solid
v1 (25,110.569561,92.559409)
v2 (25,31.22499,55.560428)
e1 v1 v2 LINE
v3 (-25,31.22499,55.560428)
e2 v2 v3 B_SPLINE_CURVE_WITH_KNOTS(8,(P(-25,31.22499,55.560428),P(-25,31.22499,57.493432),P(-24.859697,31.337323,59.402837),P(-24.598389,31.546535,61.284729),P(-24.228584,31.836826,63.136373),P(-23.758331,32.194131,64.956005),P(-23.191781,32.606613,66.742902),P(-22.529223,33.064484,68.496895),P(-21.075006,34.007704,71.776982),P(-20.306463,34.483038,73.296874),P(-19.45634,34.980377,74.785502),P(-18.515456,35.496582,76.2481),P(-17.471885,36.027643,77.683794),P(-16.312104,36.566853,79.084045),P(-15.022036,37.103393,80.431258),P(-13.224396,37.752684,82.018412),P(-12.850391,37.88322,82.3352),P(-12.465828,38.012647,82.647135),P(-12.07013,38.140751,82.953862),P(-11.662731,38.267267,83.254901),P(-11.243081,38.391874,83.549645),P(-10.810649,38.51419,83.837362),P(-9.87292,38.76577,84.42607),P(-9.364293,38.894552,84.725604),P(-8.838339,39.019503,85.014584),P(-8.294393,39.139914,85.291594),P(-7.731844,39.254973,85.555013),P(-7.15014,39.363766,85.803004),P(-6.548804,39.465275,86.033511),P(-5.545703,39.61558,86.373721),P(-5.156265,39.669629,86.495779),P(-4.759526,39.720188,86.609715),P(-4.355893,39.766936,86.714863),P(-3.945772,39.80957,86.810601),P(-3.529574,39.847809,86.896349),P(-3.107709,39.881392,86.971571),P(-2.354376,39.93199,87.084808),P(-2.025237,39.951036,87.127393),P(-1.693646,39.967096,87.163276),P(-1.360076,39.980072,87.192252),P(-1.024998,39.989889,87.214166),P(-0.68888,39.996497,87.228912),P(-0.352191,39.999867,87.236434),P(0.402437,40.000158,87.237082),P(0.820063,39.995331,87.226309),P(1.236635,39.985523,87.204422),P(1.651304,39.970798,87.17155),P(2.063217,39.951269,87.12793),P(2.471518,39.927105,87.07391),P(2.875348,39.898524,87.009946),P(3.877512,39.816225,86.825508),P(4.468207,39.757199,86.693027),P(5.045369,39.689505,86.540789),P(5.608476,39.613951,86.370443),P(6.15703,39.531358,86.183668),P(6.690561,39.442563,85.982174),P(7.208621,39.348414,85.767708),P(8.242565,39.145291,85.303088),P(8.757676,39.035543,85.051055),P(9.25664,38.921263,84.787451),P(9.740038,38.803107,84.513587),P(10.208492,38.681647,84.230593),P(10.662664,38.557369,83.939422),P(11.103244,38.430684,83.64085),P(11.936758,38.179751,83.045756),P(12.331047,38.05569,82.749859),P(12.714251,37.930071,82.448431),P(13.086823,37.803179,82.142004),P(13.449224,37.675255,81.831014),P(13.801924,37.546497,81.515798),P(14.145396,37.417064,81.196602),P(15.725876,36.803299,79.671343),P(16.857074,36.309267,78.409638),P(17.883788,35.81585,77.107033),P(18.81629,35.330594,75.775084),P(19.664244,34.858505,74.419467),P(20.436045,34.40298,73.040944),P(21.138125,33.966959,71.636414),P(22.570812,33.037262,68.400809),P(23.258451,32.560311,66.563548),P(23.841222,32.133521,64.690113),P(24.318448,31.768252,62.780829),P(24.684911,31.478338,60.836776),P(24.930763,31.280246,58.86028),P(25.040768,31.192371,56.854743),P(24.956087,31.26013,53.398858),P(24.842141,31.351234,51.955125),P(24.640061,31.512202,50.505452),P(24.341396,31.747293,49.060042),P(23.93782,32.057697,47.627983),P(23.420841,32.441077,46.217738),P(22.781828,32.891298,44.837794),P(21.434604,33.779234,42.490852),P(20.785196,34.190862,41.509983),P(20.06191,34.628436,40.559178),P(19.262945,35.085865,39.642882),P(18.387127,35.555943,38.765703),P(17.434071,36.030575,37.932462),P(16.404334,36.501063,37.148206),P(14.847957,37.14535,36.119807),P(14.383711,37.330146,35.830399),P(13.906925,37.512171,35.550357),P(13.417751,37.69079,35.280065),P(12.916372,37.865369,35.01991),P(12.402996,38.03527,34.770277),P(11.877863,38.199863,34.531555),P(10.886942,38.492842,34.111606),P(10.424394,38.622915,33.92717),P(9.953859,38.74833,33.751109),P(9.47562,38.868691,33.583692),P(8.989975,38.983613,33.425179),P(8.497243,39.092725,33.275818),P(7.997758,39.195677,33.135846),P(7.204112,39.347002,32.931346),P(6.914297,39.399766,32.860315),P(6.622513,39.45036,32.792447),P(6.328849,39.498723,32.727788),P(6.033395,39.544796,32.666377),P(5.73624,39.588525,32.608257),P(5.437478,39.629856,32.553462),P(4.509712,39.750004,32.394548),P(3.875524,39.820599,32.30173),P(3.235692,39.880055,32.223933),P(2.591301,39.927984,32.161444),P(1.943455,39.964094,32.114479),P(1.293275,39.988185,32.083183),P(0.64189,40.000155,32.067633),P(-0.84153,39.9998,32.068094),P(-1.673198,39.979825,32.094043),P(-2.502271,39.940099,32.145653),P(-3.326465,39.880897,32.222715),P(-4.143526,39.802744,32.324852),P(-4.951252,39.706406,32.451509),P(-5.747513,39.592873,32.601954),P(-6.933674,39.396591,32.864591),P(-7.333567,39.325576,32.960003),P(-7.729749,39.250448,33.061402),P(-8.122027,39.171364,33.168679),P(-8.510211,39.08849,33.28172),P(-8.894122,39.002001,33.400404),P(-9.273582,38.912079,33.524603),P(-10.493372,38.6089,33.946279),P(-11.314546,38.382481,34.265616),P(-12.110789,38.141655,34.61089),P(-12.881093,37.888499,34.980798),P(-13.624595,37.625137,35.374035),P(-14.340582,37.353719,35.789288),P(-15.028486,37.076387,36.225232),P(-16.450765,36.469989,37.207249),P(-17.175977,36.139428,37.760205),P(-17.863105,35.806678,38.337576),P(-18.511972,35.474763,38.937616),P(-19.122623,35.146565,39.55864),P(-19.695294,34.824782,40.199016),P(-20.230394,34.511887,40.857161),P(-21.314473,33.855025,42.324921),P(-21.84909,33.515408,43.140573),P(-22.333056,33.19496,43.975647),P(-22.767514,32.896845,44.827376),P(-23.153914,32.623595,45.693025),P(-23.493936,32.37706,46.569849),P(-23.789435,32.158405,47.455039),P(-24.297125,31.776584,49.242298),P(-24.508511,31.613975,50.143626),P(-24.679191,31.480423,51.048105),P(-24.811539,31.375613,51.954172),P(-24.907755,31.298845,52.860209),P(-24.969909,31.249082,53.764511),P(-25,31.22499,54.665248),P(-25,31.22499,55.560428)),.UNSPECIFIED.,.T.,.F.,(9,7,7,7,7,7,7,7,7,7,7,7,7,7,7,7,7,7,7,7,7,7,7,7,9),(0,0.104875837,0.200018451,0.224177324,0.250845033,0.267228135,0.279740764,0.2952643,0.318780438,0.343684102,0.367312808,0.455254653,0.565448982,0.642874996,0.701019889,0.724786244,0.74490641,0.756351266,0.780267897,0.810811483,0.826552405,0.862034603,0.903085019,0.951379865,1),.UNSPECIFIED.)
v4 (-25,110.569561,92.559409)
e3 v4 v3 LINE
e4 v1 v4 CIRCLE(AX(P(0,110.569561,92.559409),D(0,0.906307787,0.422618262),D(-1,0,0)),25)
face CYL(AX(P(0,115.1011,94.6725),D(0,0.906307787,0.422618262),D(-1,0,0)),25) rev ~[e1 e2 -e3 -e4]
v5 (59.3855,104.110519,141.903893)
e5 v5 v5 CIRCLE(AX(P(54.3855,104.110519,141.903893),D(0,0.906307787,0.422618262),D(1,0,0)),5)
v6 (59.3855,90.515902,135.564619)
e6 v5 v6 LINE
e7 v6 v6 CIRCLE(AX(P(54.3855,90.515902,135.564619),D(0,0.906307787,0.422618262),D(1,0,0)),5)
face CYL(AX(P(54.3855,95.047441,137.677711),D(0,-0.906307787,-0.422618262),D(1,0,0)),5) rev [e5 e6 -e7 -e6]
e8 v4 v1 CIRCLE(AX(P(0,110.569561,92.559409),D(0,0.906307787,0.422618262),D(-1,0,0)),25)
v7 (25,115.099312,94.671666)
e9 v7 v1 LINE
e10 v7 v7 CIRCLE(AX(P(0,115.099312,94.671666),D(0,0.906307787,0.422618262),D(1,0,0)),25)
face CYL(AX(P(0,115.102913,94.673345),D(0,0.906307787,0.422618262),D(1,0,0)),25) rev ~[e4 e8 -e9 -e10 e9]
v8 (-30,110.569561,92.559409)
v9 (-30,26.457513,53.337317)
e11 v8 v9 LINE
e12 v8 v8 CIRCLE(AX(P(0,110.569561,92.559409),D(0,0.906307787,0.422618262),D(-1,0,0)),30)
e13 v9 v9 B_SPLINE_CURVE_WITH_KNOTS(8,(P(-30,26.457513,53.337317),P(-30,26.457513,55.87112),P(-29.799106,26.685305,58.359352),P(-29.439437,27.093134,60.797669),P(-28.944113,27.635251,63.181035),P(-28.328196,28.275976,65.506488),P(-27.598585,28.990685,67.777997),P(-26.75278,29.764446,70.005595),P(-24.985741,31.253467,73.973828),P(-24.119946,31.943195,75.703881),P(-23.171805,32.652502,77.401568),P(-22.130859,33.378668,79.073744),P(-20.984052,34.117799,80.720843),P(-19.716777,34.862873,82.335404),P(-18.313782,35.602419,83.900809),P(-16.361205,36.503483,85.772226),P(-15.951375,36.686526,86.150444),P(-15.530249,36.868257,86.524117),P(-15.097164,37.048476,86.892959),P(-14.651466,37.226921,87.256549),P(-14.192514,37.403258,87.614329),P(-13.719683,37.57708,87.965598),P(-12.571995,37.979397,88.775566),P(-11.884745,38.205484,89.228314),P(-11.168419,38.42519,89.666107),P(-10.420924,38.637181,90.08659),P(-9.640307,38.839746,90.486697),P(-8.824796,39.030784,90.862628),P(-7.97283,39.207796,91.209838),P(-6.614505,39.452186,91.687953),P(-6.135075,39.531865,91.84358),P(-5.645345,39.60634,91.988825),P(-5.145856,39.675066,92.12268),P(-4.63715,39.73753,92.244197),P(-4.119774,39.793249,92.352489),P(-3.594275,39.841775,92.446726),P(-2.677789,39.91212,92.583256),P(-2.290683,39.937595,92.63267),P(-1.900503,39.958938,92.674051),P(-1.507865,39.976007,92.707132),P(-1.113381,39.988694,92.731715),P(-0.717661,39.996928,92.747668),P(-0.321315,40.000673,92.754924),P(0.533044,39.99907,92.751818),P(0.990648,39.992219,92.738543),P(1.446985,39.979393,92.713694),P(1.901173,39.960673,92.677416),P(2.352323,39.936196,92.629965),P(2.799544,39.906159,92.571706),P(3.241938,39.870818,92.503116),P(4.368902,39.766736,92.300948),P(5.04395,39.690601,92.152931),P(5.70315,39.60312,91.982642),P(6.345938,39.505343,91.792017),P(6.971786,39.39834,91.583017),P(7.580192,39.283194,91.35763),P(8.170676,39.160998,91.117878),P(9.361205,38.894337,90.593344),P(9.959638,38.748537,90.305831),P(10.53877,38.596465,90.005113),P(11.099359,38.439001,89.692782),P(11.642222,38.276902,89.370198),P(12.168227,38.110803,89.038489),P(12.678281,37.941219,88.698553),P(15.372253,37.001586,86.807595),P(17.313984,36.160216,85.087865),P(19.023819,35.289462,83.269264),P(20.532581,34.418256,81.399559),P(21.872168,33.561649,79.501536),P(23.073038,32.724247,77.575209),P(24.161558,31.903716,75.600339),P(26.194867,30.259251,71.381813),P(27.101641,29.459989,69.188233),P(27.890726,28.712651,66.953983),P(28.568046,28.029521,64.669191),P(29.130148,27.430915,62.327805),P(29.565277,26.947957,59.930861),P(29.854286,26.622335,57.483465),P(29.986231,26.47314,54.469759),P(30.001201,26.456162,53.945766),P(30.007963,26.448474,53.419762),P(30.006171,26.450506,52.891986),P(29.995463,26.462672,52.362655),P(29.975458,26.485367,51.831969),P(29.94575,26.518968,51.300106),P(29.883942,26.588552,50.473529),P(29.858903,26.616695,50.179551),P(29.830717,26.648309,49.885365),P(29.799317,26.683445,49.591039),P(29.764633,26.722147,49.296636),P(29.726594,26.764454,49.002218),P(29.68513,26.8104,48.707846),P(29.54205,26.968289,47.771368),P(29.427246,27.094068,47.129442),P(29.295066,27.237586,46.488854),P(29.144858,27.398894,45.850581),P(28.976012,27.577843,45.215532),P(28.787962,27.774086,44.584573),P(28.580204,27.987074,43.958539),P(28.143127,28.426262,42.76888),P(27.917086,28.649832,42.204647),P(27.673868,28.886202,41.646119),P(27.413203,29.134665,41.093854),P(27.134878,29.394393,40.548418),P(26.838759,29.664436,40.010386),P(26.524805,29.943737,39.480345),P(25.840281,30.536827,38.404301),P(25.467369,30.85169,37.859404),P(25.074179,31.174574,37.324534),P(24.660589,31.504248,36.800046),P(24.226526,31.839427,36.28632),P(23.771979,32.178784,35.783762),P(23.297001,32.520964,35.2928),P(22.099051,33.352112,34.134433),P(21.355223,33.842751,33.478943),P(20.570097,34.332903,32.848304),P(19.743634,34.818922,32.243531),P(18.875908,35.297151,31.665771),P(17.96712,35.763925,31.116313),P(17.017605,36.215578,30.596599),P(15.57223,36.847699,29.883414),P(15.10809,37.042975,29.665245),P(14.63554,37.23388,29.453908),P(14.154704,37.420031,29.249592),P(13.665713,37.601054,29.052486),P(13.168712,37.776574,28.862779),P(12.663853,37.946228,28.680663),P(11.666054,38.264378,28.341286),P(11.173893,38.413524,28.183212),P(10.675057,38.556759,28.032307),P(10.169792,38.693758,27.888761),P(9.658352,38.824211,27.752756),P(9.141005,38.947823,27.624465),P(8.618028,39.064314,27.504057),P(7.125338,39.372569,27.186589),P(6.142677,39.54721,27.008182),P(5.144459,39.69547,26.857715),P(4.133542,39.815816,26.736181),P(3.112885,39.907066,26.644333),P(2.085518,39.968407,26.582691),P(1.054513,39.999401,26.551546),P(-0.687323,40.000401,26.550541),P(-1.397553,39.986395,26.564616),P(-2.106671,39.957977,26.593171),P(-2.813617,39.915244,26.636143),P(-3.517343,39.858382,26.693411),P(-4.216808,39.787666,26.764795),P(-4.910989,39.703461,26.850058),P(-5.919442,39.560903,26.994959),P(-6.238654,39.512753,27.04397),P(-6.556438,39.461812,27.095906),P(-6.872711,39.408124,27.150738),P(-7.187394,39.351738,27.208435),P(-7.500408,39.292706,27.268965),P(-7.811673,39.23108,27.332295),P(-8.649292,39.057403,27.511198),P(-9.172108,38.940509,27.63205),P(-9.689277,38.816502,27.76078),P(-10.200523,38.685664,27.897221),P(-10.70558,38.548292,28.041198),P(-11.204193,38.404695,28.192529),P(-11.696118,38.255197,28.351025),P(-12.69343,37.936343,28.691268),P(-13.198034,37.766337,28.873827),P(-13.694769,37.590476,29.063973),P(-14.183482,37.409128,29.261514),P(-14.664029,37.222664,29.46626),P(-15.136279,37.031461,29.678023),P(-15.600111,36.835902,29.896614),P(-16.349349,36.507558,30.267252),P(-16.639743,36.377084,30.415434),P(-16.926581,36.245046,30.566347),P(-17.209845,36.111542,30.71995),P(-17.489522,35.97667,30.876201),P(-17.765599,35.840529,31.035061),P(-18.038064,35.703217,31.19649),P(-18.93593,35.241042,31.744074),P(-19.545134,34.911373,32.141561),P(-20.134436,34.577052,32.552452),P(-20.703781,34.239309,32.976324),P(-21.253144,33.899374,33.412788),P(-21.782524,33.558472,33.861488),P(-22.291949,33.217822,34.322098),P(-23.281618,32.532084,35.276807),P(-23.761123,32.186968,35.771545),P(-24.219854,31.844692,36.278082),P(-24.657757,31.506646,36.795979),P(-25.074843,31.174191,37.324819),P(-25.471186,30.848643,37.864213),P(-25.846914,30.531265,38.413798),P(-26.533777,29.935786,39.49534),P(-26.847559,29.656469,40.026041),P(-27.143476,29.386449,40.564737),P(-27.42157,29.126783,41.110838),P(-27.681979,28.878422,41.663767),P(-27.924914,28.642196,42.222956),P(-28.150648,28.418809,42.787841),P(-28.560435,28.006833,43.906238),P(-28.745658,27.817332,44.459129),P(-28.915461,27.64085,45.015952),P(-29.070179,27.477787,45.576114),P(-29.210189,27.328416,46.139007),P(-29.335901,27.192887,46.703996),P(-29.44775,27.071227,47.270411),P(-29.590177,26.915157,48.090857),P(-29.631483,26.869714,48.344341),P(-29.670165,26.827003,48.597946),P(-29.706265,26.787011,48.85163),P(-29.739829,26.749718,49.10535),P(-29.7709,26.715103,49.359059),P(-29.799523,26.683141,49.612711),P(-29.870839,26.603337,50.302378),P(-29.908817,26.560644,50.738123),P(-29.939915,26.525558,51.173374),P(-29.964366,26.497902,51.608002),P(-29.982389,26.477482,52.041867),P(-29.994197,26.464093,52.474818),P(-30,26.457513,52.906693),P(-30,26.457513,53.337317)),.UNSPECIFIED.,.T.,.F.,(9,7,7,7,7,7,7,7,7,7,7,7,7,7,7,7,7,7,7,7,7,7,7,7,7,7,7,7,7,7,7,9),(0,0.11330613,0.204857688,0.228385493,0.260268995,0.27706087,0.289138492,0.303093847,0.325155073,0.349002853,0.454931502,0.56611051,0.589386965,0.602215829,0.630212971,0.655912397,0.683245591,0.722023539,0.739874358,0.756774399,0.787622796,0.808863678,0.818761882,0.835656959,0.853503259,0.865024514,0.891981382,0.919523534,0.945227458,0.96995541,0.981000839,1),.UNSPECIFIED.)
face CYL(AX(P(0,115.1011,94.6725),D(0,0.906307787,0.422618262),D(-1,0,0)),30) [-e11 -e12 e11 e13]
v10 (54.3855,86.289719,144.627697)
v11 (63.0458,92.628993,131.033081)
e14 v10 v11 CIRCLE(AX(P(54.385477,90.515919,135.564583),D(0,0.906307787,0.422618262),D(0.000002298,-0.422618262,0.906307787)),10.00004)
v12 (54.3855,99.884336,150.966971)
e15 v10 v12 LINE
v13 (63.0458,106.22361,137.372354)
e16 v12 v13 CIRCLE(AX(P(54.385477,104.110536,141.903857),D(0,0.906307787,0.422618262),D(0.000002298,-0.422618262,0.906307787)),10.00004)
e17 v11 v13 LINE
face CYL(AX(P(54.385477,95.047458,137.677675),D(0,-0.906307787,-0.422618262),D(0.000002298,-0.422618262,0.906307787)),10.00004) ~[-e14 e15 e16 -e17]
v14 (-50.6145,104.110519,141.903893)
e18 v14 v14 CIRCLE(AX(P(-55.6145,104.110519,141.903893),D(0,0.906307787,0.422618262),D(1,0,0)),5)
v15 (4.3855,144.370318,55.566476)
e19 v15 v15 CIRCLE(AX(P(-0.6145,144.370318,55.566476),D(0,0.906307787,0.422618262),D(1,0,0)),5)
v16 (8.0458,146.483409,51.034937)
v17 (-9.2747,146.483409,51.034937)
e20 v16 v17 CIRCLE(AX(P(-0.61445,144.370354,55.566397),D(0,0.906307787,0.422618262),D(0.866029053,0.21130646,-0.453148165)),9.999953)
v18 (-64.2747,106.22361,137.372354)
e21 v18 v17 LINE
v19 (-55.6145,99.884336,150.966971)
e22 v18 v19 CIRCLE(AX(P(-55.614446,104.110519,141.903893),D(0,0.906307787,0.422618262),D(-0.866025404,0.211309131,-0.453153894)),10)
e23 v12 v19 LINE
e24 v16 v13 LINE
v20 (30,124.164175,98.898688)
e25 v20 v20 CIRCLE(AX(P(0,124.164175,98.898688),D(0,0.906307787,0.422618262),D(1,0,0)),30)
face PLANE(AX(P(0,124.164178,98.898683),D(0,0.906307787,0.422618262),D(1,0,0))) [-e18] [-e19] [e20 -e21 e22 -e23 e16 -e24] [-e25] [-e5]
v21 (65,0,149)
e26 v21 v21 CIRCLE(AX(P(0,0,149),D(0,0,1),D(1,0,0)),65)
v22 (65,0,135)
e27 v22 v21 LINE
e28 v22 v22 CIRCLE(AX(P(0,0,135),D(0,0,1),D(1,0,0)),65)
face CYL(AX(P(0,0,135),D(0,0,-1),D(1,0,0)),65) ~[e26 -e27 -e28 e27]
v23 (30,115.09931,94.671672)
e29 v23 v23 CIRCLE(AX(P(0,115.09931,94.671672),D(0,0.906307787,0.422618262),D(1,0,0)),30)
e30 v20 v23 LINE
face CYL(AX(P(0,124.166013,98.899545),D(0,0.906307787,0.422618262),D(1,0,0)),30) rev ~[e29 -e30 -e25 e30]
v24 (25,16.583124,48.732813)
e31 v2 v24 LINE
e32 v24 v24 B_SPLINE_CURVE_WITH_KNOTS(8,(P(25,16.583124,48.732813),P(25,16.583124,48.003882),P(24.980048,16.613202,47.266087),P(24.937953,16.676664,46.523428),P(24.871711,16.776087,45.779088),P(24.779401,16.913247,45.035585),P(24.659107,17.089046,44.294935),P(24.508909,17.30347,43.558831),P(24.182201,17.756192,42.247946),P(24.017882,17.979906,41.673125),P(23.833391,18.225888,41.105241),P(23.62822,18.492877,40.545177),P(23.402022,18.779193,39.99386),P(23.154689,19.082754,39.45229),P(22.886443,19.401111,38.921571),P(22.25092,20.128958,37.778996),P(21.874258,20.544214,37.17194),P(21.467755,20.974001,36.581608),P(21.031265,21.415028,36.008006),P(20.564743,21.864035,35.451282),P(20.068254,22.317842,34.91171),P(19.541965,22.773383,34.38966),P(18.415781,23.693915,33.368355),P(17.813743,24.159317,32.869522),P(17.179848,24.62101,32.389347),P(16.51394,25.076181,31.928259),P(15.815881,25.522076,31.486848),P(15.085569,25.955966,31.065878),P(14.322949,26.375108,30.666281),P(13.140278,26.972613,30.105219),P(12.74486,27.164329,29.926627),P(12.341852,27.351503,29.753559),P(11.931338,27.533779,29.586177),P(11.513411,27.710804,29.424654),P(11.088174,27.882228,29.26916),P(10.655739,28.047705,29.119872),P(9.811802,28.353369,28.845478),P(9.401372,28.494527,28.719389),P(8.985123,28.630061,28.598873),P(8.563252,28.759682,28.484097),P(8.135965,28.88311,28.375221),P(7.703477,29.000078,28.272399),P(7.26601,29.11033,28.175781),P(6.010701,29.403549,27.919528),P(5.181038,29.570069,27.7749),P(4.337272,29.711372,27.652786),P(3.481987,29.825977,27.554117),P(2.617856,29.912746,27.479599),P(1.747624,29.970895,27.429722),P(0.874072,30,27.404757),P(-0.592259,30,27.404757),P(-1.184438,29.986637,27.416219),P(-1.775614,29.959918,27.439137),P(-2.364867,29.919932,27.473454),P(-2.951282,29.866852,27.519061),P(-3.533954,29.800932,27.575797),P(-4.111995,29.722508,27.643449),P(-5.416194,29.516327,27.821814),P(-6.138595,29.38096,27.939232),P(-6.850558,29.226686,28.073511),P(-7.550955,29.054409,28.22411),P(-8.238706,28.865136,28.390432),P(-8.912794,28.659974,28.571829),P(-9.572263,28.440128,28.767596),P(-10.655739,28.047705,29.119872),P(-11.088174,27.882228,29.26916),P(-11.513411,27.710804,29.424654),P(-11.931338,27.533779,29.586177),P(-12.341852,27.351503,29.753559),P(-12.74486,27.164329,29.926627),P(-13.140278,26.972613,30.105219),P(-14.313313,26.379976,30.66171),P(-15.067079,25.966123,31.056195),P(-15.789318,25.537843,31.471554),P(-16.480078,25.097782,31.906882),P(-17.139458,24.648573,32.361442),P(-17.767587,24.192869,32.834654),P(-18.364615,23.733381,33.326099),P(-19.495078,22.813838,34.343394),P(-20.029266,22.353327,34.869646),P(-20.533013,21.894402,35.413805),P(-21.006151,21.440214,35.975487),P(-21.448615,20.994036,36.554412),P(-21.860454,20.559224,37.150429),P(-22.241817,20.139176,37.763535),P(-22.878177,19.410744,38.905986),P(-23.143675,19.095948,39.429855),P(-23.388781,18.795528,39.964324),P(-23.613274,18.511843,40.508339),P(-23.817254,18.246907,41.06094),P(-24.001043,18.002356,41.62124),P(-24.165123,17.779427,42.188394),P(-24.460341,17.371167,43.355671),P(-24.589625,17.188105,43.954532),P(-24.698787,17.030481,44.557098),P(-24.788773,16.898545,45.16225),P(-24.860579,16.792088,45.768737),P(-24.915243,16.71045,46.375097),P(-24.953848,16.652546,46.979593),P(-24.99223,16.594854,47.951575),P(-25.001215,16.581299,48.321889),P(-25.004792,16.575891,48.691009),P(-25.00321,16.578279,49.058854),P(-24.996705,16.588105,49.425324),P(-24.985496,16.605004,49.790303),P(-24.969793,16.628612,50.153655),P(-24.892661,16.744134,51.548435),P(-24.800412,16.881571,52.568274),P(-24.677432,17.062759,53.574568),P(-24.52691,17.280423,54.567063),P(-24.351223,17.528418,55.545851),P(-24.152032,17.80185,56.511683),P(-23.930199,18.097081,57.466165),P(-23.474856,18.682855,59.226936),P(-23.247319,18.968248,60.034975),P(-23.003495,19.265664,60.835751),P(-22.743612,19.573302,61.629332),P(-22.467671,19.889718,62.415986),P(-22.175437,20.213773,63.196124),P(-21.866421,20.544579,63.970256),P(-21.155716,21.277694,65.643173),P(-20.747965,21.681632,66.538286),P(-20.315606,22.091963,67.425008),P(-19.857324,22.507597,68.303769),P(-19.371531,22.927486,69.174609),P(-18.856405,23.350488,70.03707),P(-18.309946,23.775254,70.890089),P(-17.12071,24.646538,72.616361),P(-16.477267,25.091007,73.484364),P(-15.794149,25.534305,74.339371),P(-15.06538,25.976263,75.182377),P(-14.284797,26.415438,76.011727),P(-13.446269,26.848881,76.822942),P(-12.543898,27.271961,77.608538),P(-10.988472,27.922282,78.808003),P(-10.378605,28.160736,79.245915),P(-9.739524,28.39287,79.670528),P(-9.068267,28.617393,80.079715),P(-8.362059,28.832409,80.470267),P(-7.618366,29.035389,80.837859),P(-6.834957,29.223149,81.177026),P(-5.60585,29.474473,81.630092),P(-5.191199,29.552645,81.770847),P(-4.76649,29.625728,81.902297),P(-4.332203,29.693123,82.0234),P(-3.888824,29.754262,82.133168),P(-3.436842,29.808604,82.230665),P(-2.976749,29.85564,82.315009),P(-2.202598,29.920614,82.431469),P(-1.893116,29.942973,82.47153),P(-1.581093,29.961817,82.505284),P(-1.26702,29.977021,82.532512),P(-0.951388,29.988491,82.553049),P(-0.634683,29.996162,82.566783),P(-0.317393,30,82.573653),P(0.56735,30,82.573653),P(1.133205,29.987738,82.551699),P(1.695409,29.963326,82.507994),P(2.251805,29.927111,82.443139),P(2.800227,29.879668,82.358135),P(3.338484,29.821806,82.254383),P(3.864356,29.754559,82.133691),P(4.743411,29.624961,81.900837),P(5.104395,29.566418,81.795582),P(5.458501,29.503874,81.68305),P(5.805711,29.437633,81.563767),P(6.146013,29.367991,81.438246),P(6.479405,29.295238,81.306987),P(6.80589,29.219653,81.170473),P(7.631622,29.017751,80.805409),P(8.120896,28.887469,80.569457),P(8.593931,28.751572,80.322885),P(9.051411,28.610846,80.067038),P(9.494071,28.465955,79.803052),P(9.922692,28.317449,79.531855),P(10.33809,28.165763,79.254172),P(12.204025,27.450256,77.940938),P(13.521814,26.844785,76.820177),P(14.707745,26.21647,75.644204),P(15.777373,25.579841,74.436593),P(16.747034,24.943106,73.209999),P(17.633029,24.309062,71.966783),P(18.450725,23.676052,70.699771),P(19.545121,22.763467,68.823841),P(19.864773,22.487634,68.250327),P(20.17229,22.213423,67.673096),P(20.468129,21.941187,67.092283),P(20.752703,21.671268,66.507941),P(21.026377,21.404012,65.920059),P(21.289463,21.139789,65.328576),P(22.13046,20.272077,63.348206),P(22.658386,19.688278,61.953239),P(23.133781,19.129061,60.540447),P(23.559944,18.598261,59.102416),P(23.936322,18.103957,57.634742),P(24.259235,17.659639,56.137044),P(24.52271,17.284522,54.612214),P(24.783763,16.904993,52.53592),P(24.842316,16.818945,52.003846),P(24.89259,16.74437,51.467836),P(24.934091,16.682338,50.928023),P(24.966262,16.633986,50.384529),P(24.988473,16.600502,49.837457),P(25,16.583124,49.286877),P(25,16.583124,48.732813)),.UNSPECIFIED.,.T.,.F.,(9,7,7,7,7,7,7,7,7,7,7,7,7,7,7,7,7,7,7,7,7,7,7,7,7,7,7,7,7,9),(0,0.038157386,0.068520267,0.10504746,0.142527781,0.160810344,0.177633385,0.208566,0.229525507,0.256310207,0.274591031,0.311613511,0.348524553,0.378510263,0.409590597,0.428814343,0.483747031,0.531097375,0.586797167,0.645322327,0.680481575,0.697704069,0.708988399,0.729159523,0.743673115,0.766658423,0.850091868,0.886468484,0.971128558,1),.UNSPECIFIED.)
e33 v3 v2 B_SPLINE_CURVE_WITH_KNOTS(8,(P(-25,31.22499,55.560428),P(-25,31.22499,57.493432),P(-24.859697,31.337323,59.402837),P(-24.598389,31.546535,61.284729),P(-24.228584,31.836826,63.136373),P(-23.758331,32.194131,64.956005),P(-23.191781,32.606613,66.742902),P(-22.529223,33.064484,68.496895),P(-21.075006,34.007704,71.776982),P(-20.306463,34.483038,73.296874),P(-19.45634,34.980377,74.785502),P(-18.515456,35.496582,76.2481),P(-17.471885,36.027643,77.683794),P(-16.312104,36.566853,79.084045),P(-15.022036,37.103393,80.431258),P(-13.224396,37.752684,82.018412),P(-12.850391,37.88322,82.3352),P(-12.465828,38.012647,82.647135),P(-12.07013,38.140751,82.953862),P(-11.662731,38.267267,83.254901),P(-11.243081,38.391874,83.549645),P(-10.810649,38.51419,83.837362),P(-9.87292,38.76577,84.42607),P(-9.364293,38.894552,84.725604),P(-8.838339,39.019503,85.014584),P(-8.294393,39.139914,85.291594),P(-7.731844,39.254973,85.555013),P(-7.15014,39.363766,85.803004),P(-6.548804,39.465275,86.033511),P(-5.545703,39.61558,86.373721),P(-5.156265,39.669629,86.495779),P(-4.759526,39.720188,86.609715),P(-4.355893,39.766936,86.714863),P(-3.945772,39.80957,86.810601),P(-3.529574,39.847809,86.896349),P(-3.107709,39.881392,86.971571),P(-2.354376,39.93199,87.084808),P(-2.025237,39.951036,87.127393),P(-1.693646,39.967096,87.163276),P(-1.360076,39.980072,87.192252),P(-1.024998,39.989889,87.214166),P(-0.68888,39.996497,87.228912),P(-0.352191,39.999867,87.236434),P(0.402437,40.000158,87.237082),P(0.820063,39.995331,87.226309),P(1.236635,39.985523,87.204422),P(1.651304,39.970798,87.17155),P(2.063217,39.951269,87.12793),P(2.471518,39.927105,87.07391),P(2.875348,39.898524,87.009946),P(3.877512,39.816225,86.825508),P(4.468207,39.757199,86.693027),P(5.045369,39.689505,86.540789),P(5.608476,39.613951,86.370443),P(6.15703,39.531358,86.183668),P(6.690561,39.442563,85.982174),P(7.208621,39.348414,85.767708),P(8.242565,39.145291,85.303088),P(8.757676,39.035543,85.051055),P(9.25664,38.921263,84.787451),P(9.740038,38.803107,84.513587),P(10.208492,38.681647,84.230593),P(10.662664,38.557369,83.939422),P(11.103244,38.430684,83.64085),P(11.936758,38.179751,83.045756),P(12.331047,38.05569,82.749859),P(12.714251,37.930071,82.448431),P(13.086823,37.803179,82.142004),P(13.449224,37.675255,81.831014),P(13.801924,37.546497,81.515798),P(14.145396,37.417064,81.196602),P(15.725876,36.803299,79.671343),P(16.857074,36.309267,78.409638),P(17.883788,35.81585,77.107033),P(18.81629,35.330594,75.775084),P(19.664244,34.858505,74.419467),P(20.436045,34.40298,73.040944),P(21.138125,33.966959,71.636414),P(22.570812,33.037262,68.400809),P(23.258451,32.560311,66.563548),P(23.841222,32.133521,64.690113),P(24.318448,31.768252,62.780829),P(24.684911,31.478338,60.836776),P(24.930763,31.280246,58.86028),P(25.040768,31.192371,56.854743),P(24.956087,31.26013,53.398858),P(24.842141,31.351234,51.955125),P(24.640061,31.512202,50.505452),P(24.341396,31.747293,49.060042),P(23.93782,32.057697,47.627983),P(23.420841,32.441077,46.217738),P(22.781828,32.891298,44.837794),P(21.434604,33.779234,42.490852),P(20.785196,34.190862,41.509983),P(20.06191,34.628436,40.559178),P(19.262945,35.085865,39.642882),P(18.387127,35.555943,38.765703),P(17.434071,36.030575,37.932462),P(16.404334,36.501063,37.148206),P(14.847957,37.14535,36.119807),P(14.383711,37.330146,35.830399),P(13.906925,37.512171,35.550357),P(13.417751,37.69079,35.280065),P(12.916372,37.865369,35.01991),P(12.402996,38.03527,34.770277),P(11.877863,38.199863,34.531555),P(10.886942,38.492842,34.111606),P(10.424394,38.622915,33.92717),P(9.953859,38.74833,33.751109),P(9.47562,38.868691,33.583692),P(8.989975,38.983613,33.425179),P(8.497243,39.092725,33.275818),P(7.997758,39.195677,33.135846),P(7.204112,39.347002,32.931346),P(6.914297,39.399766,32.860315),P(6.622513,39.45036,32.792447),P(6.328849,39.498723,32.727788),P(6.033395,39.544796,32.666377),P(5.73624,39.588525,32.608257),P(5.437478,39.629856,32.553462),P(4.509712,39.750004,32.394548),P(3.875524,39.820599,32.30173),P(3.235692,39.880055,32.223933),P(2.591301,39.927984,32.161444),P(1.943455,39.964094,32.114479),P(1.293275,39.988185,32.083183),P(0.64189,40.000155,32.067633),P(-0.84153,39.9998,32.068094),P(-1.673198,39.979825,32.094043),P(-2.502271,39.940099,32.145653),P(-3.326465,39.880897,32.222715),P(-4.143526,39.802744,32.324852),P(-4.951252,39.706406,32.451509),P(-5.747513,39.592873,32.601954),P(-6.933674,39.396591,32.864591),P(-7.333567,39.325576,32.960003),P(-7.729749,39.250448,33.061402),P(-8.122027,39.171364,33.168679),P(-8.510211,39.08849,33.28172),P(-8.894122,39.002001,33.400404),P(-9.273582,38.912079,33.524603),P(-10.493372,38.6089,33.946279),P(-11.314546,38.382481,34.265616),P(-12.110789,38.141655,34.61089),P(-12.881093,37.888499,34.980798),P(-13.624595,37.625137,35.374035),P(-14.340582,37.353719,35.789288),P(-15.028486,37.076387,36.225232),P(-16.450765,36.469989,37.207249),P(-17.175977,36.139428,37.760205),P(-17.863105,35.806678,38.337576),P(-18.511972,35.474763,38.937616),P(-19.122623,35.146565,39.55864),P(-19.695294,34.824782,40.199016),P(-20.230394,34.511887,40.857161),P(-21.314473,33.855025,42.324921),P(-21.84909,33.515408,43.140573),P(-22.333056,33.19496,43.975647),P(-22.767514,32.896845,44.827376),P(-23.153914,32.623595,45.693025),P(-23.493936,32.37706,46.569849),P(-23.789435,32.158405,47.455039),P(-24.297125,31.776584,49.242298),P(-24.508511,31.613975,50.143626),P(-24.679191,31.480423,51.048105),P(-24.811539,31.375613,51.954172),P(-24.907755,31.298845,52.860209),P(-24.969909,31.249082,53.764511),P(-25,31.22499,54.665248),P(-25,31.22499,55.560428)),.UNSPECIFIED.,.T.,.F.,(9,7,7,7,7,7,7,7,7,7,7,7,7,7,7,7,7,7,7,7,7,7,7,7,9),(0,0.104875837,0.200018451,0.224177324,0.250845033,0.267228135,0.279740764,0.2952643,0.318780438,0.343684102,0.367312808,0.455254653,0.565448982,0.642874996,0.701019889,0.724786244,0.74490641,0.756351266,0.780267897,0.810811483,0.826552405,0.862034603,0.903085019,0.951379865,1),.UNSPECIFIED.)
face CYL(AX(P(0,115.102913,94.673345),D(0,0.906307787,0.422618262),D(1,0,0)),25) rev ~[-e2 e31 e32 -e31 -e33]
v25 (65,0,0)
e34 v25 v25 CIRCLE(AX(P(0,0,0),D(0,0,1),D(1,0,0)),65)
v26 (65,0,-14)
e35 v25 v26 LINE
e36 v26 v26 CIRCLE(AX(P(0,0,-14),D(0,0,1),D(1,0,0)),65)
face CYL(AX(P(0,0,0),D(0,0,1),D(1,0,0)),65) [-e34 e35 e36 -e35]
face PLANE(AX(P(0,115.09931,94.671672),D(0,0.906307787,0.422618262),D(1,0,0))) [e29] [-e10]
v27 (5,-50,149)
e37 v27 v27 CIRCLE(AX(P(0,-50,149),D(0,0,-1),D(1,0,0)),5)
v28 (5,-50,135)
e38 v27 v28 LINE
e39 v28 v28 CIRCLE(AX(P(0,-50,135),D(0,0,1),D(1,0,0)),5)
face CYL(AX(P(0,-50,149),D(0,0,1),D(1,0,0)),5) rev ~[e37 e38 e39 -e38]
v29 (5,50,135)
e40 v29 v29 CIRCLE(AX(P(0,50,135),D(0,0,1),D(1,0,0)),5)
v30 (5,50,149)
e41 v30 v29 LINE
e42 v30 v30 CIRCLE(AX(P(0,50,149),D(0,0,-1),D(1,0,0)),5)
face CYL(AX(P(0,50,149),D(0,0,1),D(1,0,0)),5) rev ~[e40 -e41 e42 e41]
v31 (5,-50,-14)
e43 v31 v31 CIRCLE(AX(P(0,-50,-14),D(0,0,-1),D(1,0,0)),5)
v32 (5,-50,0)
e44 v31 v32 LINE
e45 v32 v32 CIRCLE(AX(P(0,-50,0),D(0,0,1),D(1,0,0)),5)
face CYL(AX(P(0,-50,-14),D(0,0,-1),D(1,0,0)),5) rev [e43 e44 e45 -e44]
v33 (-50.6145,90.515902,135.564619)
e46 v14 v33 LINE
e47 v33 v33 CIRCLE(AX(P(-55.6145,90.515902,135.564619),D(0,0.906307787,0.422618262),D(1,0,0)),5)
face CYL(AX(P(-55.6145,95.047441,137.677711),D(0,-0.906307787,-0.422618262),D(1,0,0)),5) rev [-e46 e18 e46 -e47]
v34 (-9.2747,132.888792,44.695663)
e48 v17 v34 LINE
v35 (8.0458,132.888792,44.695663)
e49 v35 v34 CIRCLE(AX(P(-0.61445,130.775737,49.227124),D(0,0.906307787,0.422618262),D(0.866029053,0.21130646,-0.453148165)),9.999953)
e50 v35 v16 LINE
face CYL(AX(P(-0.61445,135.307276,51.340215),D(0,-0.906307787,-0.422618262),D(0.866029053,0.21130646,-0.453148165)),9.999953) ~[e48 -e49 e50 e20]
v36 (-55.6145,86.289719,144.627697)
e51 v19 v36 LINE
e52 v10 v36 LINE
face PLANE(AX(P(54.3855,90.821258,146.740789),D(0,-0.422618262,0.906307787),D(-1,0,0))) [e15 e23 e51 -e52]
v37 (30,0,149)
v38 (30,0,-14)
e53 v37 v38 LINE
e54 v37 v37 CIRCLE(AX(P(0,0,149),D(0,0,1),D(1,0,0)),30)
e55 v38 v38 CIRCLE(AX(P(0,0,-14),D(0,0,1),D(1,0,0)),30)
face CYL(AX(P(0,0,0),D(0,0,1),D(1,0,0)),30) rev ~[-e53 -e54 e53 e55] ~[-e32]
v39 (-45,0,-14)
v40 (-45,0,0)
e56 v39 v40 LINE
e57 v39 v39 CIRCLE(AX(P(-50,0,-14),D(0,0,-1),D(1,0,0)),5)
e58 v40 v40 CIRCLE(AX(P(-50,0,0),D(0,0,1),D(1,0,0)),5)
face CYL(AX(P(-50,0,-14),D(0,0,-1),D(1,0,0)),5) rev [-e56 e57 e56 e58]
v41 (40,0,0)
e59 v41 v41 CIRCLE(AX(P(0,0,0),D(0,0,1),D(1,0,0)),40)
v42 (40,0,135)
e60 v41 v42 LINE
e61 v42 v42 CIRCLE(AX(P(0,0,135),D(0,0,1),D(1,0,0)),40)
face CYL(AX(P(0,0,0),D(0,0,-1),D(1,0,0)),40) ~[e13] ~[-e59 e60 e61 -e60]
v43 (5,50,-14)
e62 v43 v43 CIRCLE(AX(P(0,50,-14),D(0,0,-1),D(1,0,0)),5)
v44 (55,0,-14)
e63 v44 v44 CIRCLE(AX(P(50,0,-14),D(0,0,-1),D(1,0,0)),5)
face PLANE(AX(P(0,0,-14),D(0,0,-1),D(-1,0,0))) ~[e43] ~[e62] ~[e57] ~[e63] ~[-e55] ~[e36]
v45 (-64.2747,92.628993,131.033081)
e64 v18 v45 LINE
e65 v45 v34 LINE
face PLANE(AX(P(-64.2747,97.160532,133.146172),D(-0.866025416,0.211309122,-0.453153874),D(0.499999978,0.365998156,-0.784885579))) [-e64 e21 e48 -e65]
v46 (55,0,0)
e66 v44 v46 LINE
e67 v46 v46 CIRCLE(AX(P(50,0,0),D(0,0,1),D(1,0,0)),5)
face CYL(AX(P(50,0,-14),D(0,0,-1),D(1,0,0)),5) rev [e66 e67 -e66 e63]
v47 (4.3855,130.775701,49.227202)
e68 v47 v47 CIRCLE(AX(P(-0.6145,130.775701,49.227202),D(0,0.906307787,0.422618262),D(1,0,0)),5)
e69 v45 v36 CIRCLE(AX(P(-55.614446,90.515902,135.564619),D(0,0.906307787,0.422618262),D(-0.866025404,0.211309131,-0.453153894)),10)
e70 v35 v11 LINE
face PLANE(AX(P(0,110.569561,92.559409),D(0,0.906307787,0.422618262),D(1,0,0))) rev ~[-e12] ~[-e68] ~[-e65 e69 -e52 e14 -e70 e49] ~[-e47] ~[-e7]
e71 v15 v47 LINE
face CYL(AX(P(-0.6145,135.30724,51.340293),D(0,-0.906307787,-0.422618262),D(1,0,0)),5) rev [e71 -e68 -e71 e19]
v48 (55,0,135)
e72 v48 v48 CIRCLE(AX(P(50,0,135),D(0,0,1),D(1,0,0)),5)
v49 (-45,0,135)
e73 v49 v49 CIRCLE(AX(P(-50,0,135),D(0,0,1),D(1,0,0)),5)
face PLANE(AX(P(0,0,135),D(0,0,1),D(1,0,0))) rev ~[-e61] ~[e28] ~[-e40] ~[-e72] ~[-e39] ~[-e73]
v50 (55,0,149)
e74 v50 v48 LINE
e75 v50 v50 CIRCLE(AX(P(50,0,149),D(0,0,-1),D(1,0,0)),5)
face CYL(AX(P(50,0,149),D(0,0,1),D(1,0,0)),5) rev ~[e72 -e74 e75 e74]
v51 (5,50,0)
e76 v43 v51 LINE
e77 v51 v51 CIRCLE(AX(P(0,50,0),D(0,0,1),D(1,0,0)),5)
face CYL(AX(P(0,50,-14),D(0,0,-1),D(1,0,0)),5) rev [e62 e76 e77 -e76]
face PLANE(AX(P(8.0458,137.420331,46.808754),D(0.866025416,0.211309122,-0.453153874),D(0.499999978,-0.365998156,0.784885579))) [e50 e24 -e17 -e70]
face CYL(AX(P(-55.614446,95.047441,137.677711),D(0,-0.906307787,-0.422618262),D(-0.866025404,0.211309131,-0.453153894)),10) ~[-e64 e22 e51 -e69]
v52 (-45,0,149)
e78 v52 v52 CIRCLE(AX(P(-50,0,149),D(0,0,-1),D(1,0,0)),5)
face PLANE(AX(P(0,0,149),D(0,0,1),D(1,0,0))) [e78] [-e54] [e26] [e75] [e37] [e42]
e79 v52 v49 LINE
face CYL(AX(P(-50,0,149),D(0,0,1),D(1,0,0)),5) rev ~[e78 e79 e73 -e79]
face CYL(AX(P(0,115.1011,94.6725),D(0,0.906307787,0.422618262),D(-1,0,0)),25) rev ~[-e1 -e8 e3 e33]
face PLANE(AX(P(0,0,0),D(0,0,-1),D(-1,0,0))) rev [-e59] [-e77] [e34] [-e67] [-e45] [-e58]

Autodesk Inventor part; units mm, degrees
ref_plane "YZ Plane" through (0, 0, 0) normal (1, 0, 0) x (0, 1, 0)
sketch "Sketch1" plane through (0, 0, 0) normal (0, 0, 1) x (1, 0, 0)
  circle A0 centre (0, 0) radius 40
  circle A1 centre (0, 0) radius 30
  dimension "d0" = 80
  dimension "d1" = 60
extrude "Extrusion1" add sketch "Sketch1" along normal blind 135
sketch "Sketch2" plane through (0, 0, 135) normal (0, 0, 1) x (1, 0, 0)
  circle A0 centre (0, 0) radius 65
  circle A1 centre (0, 0) radius 30
  dimension "d4" = 130
extrude "Extrusion2" add sketch "Sketch2" along normal blind 14
sketch "Sketch3" plane through (0, 0, 0) normal (0, 0, -1) x (-1, 0, 0)
  point P0 (0, 0)
sketch "Sketch4" plane through (0, 0, 149) normal (0, 0, 1) x (1, 0, 0)
  circle A0 centre (0, 0) radius 50
  circle A1 centre (-50, 0) radius 5
  circle A2 centre (0, -50) radius 5
  circle A3 centre (50, 0) radius 5
  circle A4 centre (0, 50) radius 5
  dimension "d7" = 100
  dimension "d8" = 10
  dimension "d11" = 360
extrude "Extrusion3" cut sketch "Sketch4" against normal blind 14 contours A0 A3 | A0 A3 | A4 A0 | A0 A4 | A2 A0 | A0 A2 | A1 A0 | A0 A1
ref_plane "Work Plane1" through (0, 0, 67.5) normal (0, 0, 1) x (1, 0, 0)
mirror "Mirror1" about plane through (0, 0, 67.5) normal (0, 0, 1) of "Extrusion2", "Extrusion3"
ref_plane "Work Plane2" through (0, 0, 94) normal (0, 0, 1) x (1, 0, 0)
sketch "Sketch5" plane through (0, 0, 94) normal (0, 0, 1) x (1, 0, 0)
  circle A0 centre (0, 0) radius 30 projected
  line L0 (-30, 0) -> (30, 0)
ref_plane "Work Plane3" through (-30, 0, 94) normal (0, -0.4226, 0.9063) x (1, 0, 0)
sketch "Sketch6" plane through (0, 0, 0) normal (1, 0, 0) x (0, 1, 0)
  point P0 (0, 0)
sketch "Sketch7" plane through (-30, 0, 94) normal (0, -0.4226, 0.9063) x (1, 0, 0)
  point P0 (30, -39.7261)
sketch "Sketch8" plane through (-30, 0, 94) normal (0, -0.4226, 0.9063) x (1, 0, 0)
  point P0 (30, -39.7261)
sketch "Sketch9" plane through (0, 0, 94) normal (0, 0, 1) x (1, 0, 0)
  point P0 (0, 0)
sketch "Sketch10" plane through (-30, 0, 94) normal (0, -0.4226, 0.9063) x (1, 0, 0)
  point P0 (30, -39.7261)
sketch "Sketch11" plane through (0, 0, 0) normal (1, 0, 0) x (0, 1, 0)
  line L0 (5, -14) -> (-5, -14) construction
  line L1 (0, -14) -> (0, 41) construction
  line L2 (0, 41) -> (115.1011, 94.6725) construction
  point P0 (0, 0)
  dimension "d18" = 127
  dimension "d19" = 115
  dimension "d20" = 55
ref_plane "Work Plane4" through (0, 115.1011, 94.6725) normal (0, 0.9063, 0.4226) x (-1, 0, 0)
sketch "Sketch12" plane through (0, 115.1011, 94.6725) normal (0, 0.9063, 0.4226) x (-1, 0, 0)
  circle A0 centre (0, 0) radius 30
  circle A1 centre (0, 0) radius 25
  point P0 (0, -37.1586)
  dimension "d21" = 60
  dimension "d22" = 50
extrude "Extrusion4" add sketch "Sketch12" against normal up to next
sketch "Sketch13" plane through (0, 115.1011, 94.6725) normal (0, 0.9063, 0.4226) x (1, 0, 0)
  line L0 (54.3855, -57.451) -> (-55.6145, -57.451)
  line L1 (-64.2747, -42.451) -> (-9.2747, 52.8118)
  line L2 (8.0458, 52.8118) -> (63.0458, -42.451)
  arc A0 (54.3855, -57.451) -> (63.0458, -42.451) centre (54.3855, -47.451) ccw
  arc A1 (-64.2747, -42.451) -> (-55.6145, -57.451) centre (-55.6145, -47.451) ccw
  arc A2 (8.0458, 52.8118) -> (-9.2747, 52.8118) centre (-0.6145, 47.8118) ccw
  line L3 (54.3855, -47.451) -> (-55.6145, -47.451) construction
  circle A3 centre (54.3855, -47.451) radius 5
  circle A4 centre (-55.6145, -47.451) radius 5
  circle A5 centre (-0.6145, 47.8118) radius 5
  line L4 (-0.6145, -57.451) -> (-0.6145, -2.451) construction
  point P0 (0, 37.1586)
  dimension "d25" = 10
  dimension "d26" = 110
  dimension "d28" = 10
  dimension "d29" = 10
  dimension "d30" = 10
  dimension "d31" = 55
extrude "Extrusion5" add sketch "Sketch13" along normal blind 10 and the other way blind 5
sketch "Sketch14" plane through (0, 124.1642, 98.8987) normal (0, 0.9063, 0.4226) x (1, 0, 0)
  circle A0 centre (0, 0) radius 25 projected
  circle A1 centre (0, 0) radius 30
  point P0 (0, 37.1586)
extrude "Extrusion6" cut sketch "Sketch14" against normal blind 10 contours A0 | A1
sketch "Sketch15" plane through (0, 115.1011, 94.6725) normal (0, 0.9063, 0.4226) x (1, 0, 0)
  circle A0 centre (0, 0) radius 30 projected
  circle A1 centre (0, 0) radius 25
  point P0 (0, 37.1586)
  dimension "d38" = 50
extrude "Extrusion7" cut sketch "Sketch15" against normal blind 120 contours A1
properties part number "cad@63"
